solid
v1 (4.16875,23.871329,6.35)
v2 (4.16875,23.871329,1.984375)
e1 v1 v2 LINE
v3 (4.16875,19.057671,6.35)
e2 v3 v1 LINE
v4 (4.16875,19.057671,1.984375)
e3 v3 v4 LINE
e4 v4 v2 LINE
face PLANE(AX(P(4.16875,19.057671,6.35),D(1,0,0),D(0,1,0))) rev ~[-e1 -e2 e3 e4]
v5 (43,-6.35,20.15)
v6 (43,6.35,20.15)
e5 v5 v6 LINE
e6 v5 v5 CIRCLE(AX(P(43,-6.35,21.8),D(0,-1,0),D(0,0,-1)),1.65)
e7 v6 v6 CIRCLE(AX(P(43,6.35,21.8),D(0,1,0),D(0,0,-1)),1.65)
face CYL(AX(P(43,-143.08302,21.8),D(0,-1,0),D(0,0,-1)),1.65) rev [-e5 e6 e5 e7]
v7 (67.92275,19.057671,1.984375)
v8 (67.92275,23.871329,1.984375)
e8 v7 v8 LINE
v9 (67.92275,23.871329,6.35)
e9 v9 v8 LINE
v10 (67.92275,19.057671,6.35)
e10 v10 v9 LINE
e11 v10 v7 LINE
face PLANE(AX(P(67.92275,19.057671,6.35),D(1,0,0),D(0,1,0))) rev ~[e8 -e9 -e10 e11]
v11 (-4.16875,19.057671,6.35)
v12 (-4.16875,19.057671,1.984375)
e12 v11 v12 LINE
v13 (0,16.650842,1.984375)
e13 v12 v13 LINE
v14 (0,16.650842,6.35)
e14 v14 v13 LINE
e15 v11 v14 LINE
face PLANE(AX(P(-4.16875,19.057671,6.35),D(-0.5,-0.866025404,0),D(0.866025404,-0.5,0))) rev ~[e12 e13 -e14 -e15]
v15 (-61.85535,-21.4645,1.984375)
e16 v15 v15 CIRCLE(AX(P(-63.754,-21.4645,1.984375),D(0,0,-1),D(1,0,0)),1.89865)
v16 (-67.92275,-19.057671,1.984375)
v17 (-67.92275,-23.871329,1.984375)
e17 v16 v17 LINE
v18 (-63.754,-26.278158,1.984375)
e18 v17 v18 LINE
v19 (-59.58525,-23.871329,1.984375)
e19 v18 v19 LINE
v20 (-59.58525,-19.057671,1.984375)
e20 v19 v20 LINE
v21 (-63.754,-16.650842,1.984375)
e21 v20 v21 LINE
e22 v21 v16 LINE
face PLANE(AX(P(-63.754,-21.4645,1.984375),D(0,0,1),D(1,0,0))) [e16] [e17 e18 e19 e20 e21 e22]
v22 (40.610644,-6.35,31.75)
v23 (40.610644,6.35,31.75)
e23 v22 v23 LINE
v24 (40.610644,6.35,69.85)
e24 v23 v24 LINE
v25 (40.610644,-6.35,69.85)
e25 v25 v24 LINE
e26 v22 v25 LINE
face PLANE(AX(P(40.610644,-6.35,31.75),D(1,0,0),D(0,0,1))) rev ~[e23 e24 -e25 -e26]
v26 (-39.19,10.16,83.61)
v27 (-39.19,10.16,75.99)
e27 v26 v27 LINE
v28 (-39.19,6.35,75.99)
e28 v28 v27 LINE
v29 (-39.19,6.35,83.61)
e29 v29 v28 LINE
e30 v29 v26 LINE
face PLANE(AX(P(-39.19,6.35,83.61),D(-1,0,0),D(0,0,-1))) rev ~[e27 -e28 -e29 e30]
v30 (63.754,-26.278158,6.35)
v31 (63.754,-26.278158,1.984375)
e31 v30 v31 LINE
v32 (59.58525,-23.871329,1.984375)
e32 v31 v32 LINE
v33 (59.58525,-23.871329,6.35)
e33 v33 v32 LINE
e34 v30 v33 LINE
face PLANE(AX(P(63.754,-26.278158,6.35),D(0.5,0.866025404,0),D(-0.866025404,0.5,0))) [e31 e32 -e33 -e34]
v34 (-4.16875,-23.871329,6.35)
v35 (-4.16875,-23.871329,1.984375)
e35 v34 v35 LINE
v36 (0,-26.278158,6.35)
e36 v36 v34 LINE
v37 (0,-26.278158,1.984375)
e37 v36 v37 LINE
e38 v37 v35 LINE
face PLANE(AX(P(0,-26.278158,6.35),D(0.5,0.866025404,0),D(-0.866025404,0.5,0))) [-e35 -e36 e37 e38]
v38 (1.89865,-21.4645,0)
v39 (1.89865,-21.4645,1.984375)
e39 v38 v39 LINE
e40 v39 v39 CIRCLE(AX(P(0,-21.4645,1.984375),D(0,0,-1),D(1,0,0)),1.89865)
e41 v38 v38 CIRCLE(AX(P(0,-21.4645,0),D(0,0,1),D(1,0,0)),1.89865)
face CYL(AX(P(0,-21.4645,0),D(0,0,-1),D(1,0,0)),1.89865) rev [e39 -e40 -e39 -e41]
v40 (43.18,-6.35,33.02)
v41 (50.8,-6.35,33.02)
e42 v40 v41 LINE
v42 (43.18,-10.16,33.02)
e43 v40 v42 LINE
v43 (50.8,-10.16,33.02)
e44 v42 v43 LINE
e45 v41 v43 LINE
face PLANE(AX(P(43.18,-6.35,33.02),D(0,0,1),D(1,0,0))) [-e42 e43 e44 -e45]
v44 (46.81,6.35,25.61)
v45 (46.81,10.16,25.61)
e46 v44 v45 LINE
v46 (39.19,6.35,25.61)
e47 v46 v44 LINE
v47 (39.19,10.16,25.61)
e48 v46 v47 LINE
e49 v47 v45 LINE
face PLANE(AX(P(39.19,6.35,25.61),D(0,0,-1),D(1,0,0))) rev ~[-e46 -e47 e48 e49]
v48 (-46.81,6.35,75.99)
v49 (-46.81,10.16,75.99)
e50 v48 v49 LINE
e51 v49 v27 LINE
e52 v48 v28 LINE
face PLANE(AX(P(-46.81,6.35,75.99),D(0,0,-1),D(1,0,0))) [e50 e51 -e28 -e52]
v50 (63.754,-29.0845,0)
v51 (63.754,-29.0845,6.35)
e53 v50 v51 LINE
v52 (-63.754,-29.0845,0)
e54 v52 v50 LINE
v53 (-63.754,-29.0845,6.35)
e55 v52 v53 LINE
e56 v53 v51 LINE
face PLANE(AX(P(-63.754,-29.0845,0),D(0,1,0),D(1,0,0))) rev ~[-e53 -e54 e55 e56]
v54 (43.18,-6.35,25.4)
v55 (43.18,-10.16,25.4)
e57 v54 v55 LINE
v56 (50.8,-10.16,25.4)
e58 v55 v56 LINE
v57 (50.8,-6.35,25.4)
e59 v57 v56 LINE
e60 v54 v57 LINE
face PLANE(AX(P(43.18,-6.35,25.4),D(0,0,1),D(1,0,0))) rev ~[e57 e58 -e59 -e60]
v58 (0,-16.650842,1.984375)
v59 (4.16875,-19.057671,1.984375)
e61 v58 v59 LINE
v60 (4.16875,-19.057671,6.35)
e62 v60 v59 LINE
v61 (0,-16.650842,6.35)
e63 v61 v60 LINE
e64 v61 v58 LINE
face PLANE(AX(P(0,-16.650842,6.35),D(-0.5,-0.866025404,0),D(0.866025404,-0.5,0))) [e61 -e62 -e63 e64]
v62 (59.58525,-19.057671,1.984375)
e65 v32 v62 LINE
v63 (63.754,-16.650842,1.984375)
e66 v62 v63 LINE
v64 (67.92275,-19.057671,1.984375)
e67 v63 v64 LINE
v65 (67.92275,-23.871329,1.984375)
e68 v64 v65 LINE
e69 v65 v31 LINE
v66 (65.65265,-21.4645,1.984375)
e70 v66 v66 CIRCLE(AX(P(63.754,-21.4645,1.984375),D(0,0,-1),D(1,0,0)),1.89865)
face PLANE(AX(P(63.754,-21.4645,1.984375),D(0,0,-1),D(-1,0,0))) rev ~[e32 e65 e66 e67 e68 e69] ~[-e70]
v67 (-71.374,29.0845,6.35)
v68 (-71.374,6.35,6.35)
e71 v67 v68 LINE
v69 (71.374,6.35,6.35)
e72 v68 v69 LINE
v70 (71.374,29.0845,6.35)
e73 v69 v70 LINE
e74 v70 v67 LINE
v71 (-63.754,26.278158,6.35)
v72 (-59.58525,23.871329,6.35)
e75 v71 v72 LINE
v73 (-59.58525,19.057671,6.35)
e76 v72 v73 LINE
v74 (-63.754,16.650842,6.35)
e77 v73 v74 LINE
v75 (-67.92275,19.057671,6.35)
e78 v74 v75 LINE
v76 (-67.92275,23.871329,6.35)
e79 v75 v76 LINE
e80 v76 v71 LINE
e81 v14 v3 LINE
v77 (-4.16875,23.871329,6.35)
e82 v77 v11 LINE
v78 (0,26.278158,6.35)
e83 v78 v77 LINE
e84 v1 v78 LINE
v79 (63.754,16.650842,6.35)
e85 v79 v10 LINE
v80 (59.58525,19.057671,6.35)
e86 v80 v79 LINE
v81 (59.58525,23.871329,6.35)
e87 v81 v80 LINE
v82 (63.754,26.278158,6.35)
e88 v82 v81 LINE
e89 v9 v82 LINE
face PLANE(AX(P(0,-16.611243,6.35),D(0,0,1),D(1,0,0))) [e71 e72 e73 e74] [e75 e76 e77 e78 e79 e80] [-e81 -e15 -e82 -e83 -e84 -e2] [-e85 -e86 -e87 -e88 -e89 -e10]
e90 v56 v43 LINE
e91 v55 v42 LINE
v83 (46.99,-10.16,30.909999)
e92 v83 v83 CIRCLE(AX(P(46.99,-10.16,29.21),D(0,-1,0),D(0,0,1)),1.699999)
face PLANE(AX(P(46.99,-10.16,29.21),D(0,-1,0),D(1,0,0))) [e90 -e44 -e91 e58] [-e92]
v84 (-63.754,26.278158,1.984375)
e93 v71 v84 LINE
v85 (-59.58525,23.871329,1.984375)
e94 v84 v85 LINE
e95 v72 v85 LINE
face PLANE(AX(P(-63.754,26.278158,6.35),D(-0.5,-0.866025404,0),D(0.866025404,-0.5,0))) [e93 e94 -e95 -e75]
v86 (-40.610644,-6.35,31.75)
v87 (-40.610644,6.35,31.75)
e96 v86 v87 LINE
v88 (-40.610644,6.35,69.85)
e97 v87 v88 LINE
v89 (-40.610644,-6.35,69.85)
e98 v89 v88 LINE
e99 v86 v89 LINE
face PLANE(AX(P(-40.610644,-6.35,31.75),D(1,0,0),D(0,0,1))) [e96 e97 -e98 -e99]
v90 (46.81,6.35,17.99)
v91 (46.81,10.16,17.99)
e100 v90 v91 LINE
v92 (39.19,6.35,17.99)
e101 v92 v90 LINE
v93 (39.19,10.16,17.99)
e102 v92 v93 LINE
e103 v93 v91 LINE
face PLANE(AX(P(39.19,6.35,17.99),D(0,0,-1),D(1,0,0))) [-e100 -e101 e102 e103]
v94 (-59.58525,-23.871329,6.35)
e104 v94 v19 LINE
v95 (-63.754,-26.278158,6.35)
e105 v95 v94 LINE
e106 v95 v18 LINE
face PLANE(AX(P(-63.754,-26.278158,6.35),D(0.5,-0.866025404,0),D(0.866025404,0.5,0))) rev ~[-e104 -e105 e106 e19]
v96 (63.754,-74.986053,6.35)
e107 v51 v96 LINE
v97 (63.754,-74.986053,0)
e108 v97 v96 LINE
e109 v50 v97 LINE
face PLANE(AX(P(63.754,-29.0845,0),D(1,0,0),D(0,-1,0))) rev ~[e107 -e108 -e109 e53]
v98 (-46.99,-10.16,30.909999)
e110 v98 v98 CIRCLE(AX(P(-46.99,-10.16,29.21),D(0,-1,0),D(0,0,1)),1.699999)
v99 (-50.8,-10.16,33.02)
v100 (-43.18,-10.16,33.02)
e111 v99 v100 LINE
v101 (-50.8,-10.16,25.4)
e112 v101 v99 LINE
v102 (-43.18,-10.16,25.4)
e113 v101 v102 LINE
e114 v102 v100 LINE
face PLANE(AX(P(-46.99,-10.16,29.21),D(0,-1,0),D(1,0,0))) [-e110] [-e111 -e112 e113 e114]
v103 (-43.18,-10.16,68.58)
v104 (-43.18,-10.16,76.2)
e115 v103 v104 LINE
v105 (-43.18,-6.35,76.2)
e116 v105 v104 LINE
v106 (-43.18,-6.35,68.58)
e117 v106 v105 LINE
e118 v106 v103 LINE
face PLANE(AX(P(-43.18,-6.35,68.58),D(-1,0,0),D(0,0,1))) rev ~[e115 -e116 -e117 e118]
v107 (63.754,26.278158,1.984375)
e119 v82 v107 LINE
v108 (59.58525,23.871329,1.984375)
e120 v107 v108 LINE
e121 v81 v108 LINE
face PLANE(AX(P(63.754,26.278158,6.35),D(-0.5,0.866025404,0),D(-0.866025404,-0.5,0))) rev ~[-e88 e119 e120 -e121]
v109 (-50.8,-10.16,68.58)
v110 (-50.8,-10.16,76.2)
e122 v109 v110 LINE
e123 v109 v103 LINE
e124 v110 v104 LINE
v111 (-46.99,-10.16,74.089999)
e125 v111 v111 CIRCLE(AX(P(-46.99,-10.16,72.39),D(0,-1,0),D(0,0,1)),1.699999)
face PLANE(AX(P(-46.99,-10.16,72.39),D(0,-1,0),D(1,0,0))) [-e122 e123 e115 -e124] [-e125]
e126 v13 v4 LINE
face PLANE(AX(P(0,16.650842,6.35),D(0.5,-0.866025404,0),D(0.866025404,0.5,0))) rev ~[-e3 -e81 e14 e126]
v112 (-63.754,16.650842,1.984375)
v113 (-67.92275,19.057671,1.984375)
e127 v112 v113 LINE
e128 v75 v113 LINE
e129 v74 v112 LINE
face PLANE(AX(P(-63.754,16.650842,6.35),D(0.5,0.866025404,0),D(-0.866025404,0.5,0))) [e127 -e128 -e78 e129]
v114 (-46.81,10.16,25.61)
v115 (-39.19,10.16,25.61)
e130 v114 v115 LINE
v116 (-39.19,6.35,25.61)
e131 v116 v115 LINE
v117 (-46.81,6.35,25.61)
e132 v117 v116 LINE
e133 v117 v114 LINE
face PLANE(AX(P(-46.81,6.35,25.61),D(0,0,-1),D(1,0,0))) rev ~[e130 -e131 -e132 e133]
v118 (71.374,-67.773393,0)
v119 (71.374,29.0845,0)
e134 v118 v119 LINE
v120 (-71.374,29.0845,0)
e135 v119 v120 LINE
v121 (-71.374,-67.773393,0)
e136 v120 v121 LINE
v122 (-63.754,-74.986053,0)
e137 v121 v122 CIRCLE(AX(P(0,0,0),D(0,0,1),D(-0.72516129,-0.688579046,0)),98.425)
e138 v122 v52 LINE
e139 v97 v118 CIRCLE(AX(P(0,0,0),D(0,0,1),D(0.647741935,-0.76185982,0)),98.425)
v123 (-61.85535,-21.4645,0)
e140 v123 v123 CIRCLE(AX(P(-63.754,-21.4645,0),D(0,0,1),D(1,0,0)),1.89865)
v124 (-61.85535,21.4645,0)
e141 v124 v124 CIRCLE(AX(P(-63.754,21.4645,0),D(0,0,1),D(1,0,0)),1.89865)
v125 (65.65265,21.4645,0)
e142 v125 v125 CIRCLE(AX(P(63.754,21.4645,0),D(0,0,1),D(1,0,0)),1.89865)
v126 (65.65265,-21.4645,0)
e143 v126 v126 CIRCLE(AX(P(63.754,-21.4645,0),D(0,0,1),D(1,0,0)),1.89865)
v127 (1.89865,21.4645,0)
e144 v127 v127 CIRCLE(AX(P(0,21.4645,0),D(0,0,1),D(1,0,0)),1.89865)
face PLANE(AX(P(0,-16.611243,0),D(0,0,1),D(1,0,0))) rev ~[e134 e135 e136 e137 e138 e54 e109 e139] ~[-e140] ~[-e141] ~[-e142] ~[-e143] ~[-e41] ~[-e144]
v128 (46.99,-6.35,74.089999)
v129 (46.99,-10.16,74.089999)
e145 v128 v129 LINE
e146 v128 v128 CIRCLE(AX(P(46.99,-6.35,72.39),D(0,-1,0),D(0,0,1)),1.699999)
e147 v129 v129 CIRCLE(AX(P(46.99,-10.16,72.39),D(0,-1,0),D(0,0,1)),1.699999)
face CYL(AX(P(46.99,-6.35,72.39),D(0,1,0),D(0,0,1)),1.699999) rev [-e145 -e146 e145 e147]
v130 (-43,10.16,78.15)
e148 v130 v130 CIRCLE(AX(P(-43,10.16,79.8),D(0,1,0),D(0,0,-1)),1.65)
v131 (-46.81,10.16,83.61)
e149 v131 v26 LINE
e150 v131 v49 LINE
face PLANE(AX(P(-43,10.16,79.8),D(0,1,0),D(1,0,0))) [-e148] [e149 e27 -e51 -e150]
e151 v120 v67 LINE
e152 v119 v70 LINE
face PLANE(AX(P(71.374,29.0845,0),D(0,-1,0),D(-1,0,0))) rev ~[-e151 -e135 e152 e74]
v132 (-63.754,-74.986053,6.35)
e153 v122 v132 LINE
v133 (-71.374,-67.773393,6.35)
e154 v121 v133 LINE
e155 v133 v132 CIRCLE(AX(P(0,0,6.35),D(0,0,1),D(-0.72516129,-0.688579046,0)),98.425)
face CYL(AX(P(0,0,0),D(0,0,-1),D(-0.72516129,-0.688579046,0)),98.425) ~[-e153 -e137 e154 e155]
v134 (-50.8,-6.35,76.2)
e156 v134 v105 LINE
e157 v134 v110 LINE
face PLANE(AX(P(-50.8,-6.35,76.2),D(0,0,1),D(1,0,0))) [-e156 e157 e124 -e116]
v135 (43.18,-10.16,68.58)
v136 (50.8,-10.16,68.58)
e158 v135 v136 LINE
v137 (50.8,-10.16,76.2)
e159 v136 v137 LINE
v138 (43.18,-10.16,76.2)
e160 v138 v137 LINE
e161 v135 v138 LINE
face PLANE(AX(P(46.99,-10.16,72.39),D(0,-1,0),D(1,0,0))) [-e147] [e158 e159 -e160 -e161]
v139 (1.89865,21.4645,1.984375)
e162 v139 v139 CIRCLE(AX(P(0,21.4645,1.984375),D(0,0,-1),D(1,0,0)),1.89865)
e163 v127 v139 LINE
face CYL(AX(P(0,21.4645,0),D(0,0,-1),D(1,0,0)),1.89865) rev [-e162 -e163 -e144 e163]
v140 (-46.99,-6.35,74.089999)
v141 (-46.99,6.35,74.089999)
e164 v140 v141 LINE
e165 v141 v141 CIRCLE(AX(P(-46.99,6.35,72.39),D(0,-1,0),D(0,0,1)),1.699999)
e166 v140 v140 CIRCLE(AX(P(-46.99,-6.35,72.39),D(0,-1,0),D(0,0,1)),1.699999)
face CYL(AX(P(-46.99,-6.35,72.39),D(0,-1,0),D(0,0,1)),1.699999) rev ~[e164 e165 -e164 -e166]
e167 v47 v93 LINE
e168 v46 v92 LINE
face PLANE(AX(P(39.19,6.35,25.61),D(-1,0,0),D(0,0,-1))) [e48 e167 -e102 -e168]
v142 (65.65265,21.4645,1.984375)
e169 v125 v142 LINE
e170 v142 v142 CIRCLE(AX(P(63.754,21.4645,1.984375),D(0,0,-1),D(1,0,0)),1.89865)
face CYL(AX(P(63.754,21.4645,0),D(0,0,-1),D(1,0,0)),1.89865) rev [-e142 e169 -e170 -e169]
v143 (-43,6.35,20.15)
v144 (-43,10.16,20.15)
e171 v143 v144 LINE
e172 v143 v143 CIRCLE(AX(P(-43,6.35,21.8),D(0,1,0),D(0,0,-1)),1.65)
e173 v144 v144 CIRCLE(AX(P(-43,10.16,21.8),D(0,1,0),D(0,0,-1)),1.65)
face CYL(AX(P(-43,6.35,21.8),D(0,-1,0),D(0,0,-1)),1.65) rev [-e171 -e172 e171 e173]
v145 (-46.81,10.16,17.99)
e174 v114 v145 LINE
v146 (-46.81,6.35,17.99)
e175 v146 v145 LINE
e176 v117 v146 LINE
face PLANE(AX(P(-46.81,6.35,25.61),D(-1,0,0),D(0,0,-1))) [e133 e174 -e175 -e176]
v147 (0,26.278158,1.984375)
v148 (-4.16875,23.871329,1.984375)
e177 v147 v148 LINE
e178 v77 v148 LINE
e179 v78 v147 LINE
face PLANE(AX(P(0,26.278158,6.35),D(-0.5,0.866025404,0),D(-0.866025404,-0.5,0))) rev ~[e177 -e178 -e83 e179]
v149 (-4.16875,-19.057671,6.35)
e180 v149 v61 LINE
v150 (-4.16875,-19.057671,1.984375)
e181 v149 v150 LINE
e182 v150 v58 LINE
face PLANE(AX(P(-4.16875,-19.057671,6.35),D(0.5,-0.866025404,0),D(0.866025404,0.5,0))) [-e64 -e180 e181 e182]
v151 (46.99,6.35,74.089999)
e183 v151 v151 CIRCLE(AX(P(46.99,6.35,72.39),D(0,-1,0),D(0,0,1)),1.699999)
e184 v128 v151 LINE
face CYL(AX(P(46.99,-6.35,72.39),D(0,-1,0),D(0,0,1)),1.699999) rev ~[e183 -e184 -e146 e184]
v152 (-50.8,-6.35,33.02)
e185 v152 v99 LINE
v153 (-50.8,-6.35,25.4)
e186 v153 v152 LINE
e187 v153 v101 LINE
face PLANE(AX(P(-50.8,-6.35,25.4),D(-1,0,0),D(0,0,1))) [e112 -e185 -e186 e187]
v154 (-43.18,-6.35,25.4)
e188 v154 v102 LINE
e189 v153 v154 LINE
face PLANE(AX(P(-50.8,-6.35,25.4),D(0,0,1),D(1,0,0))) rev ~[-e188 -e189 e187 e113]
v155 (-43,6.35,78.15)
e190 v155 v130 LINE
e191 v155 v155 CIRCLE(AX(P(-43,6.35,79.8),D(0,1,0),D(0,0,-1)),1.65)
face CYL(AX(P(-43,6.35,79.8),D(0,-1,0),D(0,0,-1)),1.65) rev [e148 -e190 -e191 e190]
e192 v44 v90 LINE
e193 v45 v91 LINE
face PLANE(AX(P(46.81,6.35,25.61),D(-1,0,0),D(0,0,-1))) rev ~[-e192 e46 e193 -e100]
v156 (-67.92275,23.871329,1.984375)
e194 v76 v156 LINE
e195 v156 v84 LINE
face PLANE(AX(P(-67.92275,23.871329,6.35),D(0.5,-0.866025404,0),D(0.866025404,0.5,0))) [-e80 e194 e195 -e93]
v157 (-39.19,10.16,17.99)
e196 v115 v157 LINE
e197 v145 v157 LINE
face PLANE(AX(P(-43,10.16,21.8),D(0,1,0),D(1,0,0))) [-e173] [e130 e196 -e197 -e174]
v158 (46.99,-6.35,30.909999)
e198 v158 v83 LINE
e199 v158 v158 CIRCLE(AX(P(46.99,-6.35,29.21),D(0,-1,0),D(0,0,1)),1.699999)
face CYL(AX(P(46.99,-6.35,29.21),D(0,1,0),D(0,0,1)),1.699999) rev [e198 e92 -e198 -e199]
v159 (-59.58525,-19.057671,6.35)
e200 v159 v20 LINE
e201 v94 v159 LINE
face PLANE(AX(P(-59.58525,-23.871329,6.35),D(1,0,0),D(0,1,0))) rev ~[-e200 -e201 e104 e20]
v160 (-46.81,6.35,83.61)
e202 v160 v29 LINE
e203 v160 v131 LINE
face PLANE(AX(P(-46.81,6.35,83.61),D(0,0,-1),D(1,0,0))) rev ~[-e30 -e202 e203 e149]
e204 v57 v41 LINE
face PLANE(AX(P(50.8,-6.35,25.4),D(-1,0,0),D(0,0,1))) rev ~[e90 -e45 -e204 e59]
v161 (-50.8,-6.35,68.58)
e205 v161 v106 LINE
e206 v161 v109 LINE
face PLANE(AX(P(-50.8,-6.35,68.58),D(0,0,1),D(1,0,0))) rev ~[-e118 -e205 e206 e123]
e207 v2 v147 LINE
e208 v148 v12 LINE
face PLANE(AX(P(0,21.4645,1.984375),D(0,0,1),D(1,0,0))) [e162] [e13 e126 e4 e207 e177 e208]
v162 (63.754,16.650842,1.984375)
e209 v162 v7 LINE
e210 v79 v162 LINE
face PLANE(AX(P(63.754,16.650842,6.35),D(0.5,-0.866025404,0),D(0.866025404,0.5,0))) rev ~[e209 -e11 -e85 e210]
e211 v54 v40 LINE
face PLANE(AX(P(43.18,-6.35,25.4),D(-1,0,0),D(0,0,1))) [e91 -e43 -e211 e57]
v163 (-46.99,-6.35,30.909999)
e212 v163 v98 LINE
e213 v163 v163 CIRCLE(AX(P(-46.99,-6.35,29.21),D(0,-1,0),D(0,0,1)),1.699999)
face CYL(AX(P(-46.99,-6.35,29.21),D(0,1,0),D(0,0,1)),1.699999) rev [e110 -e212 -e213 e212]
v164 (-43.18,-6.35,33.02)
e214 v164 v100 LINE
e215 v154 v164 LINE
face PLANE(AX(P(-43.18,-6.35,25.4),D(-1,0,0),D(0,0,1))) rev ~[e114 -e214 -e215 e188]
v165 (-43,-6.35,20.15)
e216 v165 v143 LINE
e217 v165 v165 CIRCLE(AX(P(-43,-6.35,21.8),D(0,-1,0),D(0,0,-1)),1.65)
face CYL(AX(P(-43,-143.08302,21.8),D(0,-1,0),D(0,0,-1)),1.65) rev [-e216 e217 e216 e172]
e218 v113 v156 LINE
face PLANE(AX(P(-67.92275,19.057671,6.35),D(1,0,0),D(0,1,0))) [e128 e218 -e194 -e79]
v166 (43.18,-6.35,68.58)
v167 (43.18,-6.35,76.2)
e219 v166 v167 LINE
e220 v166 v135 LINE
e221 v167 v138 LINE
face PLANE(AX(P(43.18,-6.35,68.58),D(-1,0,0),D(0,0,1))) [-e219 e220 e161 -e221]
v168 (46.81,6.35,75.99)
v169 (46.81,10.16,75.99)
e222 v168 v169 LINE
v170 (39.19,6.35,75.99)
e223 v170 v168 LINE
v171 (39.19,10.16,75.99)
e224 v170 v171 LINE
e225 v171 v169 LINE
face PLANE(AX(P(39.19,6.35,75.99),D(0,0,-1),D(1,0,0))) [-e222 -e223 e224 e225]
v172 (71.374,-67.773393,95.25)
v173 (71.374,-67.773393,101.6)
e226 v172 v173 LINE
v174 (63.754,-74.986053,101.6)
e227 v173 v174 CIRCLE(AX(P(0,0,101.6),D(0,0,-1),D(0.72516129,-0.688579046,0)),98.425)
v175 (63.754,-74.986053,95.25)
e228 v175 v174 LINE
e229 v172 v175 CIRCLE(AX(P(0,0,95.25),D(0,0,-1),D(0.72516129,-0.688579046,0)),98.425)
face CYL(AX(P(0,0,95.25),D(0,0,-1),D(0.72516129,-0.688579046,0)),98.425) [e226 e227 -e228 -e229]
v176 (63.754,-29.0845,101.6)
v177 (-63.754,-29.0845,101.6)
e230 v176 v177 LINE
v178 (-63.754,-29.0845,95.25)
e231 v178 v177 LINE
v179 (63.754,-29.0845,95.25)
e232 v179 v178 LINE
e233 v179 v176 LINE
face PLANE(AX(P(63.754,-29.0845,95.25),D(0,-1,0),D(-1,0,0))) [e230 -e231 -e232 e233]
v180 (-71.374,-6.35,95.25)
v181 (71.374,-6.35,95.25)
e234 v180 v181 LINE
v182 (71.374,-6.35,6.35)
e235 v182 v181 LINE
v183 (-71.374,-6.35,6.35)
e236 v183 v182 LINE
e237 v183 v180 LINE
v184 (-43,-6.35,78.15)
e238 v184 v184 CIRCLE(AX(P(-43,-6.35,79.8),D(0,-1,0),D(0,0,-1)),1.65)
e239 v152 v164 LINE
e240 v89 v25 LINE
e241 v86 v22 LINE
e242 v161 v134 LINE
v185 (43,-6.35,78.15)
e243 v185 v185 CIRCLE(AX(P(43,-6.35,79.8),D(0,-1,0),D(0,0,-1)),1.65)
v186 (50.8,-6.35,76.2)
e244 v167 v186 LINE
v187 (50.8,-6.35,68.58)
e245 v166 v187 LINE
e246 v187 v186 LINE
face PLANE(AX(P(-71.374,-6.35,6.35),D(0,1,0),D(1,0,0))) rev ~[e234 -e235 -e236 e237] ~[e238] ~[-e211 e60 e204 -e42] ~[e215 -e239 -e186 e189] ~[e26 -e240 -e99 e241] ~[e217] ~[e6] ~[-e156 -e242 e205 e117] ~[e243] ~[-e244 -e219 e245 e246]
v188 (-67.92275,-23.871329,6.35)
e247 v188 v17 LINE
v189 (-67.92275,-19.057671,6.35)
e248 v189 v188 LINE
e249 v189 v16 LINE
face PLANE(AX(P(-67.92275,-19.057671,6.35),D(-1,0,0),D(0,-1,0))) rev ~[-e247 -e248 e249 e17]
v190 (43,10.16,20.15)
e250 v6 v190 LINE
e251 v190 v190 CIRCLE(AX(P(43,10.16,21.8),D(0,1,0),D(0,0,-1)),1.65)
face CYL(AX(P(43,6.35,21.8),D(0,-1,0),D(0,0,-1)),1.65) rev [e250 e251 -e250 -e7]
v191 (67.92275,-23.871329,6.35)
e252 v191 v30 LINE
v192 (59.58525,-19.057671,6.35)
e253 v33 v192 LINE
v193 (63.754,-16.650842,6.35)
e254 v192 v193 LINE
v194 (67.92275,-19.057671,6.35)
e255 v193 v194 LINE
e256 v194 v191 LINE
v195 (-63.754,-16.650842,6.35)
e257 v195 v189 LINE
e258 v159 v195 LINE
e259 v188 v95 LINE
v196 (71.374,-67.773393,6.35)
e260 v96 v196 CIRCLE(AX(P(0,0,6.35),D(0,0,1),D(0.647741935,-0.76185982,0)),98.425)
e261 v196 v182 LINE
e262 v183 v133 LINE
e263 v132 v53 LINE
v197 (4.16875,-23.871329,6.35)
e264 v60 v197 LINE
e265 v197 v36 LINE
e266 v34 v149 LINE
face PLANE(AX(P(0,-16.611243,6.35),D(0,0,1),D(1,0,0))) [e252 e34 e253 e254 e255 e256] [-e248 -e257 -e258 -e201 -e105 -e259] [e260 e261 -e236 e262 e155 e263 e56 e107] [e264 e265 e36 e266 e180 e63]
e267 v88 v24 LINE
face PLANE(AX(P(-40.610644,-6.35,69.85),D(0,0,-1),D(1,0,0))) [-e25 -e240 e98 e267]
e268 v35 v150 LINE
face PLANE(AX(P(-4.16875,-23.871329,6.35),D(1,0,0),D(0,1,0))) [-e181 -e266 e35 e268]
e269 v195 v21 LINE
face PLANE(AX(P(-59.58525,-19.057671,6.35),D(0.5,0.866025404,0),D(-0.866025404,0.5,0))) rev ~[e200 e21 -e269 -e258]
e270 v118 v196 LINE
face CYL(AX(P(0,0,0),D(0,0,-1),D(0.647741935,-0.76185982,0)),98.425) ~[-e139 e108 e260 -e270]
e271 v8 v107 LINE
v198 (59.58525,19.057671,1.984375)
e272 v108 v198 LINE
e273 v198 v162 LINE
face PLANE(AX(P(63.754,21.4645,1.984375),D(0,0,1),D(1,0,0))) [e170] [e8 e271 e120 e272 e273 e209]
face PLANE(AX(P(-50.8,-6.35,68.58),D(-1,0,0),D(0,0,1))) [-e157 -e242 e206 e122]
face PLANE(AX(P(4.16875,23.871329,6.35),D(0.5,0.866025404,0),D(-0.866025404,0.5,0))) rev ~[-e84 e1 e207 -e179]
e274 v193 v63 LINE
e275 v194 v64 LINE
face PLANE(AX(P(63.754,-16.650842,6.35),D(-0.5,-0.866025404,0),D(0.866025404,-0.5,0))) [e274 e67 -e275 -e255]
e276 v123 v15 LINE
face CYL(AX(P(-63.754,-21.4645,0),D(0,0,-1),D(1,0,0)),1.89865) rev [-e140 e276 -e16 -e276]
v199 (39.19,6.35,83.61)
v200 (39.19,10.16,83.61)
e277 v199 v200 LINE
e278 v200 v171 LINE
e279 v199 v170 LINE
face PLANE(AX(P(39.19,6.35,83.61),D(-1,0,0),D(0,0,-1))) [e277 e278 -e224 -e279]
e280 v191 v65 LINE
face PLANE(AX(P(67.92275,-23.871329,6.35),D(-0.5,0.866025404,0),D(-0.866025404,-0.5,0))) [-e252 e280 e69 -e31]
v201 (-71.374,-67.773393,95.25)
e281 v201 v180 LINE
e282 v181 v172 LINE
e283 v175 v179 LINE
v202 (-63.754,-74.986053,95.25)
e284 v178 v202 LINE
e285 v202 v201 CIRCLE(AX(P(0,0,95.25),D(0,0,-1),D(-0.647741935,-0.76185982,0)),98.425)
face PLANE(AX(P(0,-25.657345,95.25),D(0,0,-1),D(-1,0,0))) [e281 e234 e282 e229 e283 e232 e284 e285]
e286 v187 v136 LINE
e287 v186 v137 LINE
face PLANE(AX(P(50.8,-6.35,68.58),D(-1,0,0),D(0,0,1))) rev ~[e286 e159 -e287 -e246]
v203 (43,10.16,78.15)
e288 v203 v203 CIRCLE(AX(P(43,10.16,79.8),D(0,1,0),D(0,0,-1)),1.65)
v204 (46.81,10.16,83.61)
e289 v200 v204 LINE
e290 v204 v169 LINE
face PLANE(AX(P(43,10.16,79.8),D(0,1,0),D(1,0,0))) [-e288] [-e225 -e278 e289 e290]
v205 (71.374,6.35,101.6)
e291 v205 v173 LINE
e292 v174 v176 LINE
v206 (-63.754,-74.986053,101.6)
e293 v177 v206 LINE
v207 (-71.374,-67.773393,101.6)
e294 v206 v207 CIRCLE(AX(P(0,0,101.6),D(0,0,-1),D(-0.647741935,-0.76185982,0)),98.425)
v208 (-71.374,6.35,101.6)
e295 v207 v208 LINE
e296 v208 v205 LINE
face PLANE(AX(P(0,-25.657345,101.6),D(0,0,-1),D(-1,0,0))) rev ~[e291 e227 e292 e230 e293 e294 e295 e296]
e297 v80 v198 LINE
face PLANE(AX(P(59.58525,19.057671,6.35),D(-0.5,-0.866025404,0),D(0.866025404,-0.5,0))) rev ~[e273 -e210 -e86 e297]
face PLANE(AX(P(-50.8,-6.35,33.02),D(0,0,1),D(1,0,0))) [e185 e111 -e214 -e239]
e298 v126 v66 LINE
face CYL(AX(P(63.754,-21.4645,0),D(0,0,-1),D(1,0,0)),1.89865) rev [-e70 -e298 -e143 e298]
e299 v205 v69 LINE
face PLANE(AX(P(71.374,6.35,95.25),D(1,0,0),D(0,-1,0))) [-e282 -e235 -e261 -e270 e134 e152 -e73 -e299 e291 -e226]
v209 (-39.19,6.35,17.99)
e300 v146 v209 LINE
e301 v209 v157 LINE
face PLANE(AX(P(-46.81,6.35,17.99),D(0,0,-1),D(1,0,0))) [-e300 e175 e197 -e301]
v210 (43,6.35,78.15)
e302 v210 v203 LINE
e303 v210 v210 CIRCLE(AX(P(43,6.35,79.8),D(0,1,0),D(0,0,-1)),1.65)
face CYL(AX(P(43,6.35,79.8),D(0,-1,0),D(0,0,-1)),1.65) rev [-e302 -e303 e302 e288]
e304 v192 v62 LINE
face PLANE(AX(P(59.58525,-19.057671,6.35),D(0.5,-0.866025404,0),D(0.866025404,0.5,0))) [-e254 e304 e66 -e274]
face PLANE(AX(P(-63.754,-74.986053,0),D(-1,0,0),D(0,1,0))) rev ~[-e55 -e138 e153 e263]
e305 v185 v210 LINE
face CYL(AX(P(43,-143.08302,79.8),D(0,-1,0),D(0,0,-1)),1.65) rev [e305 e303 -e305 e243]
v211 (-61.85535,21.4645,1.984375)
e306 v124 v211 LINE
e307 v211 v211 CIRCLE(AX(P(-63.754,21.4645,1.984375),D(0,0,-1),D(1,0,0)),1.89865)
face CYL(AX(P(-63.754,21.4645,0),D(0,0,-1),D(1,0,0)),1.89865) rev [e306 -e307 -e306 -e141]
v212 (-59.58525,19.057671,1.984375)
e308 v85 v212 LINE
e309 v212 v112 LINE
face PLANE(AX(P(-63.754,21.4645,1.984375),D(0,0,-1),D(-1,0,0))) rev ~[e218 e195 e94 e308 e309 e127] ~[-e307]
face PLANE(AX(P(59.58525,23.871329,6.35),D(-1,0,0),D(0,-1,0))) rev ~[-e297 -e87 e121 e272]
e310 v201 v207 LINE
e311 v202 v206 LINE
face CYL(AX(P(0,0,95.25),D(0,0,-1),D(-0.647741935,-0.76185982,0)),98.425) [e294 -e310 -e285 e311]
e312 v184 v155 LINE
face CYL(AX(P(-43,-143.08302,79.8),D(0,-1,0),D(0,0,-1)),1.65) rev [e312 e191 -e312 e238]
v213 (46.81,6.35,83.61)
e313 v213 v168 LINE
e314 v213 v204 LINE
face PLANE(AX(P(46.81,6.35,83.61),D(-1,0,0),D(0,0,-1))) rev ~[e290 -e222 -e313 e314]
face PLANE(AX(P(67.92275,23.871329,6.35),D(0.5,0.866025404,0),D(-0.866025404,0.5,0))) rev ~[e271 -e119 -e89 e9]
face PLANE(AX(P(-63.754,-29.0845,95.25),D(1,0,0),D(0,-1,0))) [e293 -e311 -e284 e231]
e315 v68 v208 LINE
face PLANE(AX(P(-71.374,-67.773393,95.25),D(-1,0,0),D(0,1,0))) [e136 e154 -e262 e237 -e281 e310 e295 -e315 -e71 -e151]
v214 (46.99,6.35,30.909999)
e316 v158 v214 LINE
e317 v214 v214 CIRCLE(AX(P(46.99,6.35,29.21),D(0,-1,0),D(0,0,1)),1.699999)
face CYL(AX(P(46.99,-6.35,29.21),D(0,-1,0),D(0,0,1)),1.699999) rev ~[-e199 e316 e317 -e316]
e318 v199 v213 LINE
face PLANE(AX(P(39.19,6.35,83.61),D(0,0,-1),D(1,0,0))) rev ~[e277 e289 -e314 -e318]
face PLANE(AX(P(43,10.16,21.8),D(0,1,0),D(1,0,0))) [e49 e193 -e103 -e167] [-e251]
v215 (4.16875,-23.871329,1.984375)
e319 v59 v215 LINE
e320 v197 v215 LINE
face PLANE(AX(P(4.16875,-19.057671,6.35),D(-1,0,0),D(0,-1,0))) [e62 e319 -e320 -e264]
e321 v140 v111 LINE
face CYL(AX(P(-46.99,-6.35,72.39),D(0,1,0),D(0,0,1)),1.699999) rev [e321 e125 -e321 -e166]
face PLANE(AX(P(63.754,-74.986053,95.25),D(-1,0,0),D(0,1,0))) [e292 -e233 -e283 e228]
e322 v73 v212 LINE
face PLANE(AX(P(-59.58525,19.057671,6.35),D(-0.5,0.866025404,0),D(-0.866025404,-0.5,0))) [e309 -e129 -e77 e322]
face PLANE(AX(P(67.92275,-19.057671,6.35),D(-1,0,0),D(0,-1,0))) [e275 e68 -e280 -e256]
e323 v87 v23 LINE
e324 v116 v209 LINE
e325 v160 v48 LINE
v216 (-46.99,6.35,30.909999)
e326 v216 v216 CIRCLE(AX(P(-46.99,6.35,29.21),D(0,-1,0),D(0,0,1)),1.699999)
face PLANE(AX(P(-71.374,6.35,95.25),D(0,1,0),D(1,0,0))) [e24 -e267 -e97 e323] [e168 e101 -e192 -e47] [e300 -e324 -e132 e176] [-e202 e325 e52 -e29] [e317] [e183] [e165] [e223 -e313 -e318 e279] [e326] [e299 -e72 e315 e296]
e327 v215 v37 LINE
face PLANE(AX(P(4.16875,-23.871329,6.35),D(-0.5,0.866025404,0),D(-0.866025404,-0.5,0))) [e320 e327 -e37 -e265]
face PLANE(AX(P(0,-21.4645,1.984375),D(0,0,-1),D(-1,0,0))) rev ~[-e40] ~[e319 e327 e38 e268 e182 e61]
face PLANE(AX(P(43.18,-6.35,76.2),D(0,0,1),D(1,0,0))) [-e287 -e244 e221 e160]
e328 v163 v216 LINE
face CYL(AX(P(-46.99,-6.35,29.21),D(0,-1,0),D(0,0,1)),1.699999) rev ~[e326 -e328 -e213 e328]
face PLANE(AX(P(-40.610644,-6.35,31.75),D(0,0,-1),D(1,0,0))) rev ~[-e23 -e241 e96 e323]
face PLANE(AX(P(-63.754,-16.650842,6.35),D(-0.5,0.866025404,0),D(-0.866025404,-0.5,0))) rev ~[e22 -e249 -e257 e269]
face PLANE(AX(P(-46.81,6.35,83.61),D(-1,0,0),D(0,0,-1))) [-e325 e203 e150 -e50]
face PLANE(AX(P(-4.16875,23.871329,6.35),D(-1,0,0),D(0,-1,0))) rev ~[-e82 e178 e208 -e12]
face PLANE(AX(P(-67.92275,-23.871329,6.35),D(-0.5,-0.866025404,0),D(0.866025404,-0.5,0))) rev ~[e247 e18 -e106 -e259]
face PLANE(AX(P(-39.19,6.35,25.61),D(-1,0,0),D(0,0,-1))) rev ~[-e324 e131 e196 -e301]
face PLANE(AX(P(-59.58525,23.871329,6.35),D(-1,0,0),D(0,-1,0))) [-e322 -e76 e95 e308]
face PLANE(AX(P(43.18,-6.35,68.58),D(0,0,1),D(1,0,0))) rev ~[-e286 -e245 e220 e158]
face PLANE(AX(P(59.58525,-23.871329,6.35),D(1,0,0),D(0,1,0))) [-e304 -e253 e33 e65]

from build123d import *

# Parameters (mm, degrees)
SKETCH1_R               = 1.89865
BOSS_EXTRUDE1_DEPTH     = 6.35
SKETCH2_W               = 142.748
SKETCH2_H               = 12.7
BOSS_EXTRUDE2_DEPTH     = 88.9
SKETCH3_W               = 7.62
SKETCH3_H               = 7.62
SKETCH3_R               = 1.69999914
BOSS_EXTRUDE3_DEPTH     = 3.81
CUT_EXTRUDE2_REACH      = 139.396
SKETCH4_R               = 1.69999914
SKETCH4_W               = 81.221287992
SKETCH4_H               = 38.1
SKETCH5_W               = 7.62
SKETCH5_H               = 7.62
SKETCH5_R               = 1.65
BOSS_EXTRUDE4_DEPTH     = 3.81
BOSS_EXTRUDE5_DEPTH     = 6.35
CUT_EXTRUDE3_DEPTH      = 149.43301976
CUT_EXTRUDE3_DEPTH_BACK = 149.43301976
SKETCH9_R               = 1.65
CUT_EXTRUDE4_DEPTH      = 4.365625


with BuildPart() as part:
    # Sketch1 → Boss-Extrude1 (new body)
    with BuildSketch(Plane.XY):
        with BuildLine():
            Line((-71.374, -29.0845), (-71.374, -67.773392633))
            ThreePointArc((-71.374, -67.773392633), (-67.660178189, -71.481332615), (-63.754, -74.986052763))
            Line((-63.754, -74.986052763), (-63.754, -29.0845))
            Line((-63.754, -29.0845), (63.754, -29.0845))
            Line((63.754, -29.0845), (63.754, -74.986052763))
            ThreePointArc((63.754, -74.986052763), (67.660178189, -71.481332615), (71.374, -67.773392633))
            Line((71.374, -67.773392633), (71.374, -29.0845))
            Line((71.374, -29.0845), (71.374, 29.0845))
            Line((71.374, 29.0845), (-71.374, 29.0845))
            Line((-71.374, 29.0845), (-71.374, -29.0845))
        make_face()
        with Locations((-63.754, 21.4645)):
            Circle(SKETCH1_R, mode=Mode.SUBTRACT)
        with Locations((0, 21.4645)):
            Circle(SKETCH1_R, mode=Mode.SUBTRACT)
        with Locations((63.754, 21.4645)):
            Circle(SKETCH1_R, mode=Mode.SUBTRACT)
        with Locations((63.754, -21.4645)):
            Circle(SKETCH1_R, mode=Mode.SUBTRACT)
        with Locations((0, -21.4645)):
            Circle(SKETCH1_R, mode=Mode.SUBTRACT)
        with Locations((-63.754, -21.4645)):
            Circle(SKETCH1_R, mode=Mode.SUBTRACT)
    extrude(amount=BOSS_EXTRUDE1_DEPTH)

    # Sketch2 → Boss-Extrude2 (add)
    with BuildSketch(Plane.XY.offset(6.35)):
        Rectangle(SKETCH2_W, SKETCH2_H)
    extrude(amount=BOSS_EXTRUDE2_DEPTH)

    # Sketch3 → Boss-Extrude3 (add)
    # profile 1 of 4: a face of its own
    with BuildSketch(Plane.XZ.offset(6.35)):
        with Locations((-46.99, 72.39)):
            Rectangle(SKETCH3_W, SKETCH3_H)
        with Locations(Location((-46.99, 72.39, 0), (0, 0, 90))):
            Circle(SKETCH3_R, mode=Mode.SUBTRACT)
    # profile 2 of 4: a face of its own
    with BuildSketch(Plane.XZ.offset(6.35)):
        with Locations((46.99, 72.39)):
            Rectangle(SKETCH3_W, SKETCH3_H)
        with Locations(Location((46.99, 72.39, 0), (0, 0, 90))):
            Circle(SKETCH3_R, mode=Mode.SUBTRACT)
    # profile 3 of 4: a face of its own
    with BuildSketch(Plane.XZ.offset(6.35)):
        with Locations((46.99, 29.21)):
            Rectangle(SKETCH3_W, SKETCH3_H)
        with Locations(Location((46.99, 29.21, 0), (0, 0, 90))):
            Circle(SKETCH3_R, mode=Mode.SUBTRACT)
    # profile 4 of 4: a face of its own
    with BuildSketch(Plane.XZ.offset(6.35)):
        with Locations((-46.99, 29.21)):
            Rectangle(SKETCH3_W, SKETCH3_H)
        with Locations(Location((-46.99, 29.21, 0), (0, 0, 90))):
            Circle(SKETCH3_R, mode=Mode.SUBTRACT)
    extrude(amount=BOSS_EXTRUDE3_DEPTH)

    # Sketch4 → Cut-Extrude2 (cut, up to next)
    with BuildSketch(Plane.XZ.offset(6.35), mode=Mode.PRIVATE) as cut_extrude2_sk1:
        with Locations(Location((-46.99, 29.21, 0), (0, 0, 90))):
            Circle(SKETCH4_R)
    cut_extrude2_tool1 = extrude(cut_extrude2_sk1.sketch, amount=-CUT_EXTRUDE2_REACH, mode=Mode.PRIVATE) & part.part
    # Sketch4 → Cut-Extrude2 (cut, up to next)
    with BuildSketch(Plane.XZ.offset(6.35), mode=Mode.PRIVATE) as cut_extrude2_sk2:
        with Locations(Location((-46.99, 72.39, 0), (0, 0, 90))):
            Circle(SKETCH4_R)
    cut_extrude2_tool2 = extrude(cut_extrude2_sk2.sketch, amount=-CUT_EXTRUDE2_REACH, mode=Mode.PRIVATE) & part.part
    # Sketch4 → Cut-Extrude2 (cut, up to next)
    with BuildSketch(Plane.XZ.offset(6.35), mode=Mode.PRIVATE) as cut_extrude2_sk3:
        with Locations(Location((46.99, 29.21, 0), (0, 0, 90))):
            Circle(SKETCH4_R)
    cut_extrude2_tool3 = extrude(cut_extrude2_sk3.sketch, amount=-CUT_EXTRUDE2_REACH, mode=Mode.PRIVATE) & part.part
    # Sketch4 → Cut-Extrude2 (cut, up to next)
    with BuildSketch(Plane.XZ.offset(6.35), mode=Mode.PRIVATE) as cut_extrude2_sk4:
        with Locations(Location((46.99, 72.39, 0), (0, 0, 90))):
            Circle(SKETCH4_R)
    cut_extrude2_tool4 = extrude(cut_extrude2_sk4.sketch, amount=-CUT_EXTRUDE2_REACH, mode=Mode.PRIVATE) & part.part
    # Sketch4 → Cut-Extrude2 (cut, up to next)
    with BuildSketch(Plane.XZ.offset(6.35), mode=Mode.PRIVATE) as cut_extrude2_sk5:
        with Locations((0, 50.8)):
            Rectangle(SKETCH4_W, SKETCH4_H)
    cut_extrude2_tool5 = extrude(cut_extrude2_sk5.sketch, amount=-CUT_EXTRUDE2_REACH, mode=Mode.PRIVATE) & part.part
    add(cut_extrude2_tool1.solids().sort_by_distance((-46.99, -6.35, 29.21))[0], mode=Mode.SUBTRACT)
    add(cut_extrude2_tool2.solids().sort_by_distance((-46.99, -6.35, 72.39))[0], mode=Mode.SUBTRACT)
    add(cut_extrude2_tool3.solids().sort_by_distance((46.99, -6.35, 29.21))[0], mode=Mode.SUBTRACT)
    add(cut_extrude2_tool4.solids().sort_by_distance((46.99, -6.35, 72.39))[0], mode=Mode.SUBTRACT)
    add(cut_extrude2_tool5.solids().sort_by_distance((0, -6.35, 50.8))[0], mode=Mode.SUBTRACT)

    # Sketch5 → Boss-Extrude4 (add)
    # profile 1 of 4: a face of its own
    with BuildSketch(Plane(origin=(0, 6.35, 0), x_dir=(1, 0, 0), z_dir=(0, 1, 0))):
        with Locations((-43, -21.8)):
            Rectangle(SKETCH5_W, SKETCH5_H)
        with Locations(Location((-43, -21.8, 0), (0, 0, 90))):
            Circle(SKETCH5_R, mode=Mode.SUBTRACT)
    # profile 2 of 4: a face of its own
    with BuildSketch(Plane(origin=(0, 6.35, 0), x_dir=(1, 0, 0), z_dir=(0, 1, 0))):
        with Locations((43, -21.8)):
            Rectangle(SKETCH5_W, SKETCH5_H)
        with Locations(Location((43, -21.8, 0), (0, 0, 90))):
            Circle(SKETCH5_R, mode=Mode.SUBTRACT)
    # profile 3 of 4: a face of its own
    with BuildSketch(Plane(origin=(0, 6.35, 0), x_dir=(1, 0, 0), z_dir=(0, 1, 0))):
        with Locations((43, -79.8)):
            Rectangle(SKETCH5_W, SKETCH5_H)
        with Locations(Location((43, -79.8, 0), (0, 0, 90))):
            Circle(SKETCH5_R, mode=Mode.SUBTRACT)
    # profile 4 of 4: a face of its own
    with BuildSketch(Plane(origin=(0, 6.35, 0), x_dir=(1, 0, 0), z_dir=(0, 1, 0))):
        with Locations((-43, -79.8)):
            Rectangle(SKETCH5_W, SKETCH5_H)
        with Locations(Location((-43, -79.8, 0), (0, 0, 90))):
            Circle(SKETCH5_R, mode=Mode.SUBTRACT)
    extrude(amount=BOSS_EXTRUDE4_DEPTH)

    # Sketch6 → Boss-Extrude5 (add)
    with BuildSketch(Plane.XY.offset(95.25)):
        with BuildLine():
            Line((-71.374, 6.35), (71.374, 6.35))
            Line((71.374, 6.35), (71.374, -6.35))
            Line((71.374, -6.35), (71.374, -67.773392633))
            ThreePointArc((71.374, -67.773392633), (67.660178189, -71.481332615), (63.754, -74.986052763))
            Line((63.754, -74.986052763), (63.754, -29.0845))
            Line((63.754, -29.0845), (-63.754, -29.0845))
            Line((-63.754, -29.0845), (-63.754, -74.986052763))
            ThreePointArc((-63.754, -74.986052763), (-67.660178189, -71.481332615), (-71.374, -67.773392633))
            Line((-71.374, -67.773392633), (-71.374, -6.35))
            Line((-71.374, -6.35), (-71.374, 6.35))
        make_face()
    extrude(amount=BOSS_EXTRUDE5_DEPTH)

    # Sketch9 → Cut-Extrude3 (cut, two sides: drawn at the far end of the back side and taken through both)
    with BuildSketch(Plane(origin=(0, 6.35, 0), x_dir=(1, 0, 0), z_dir=(0, 1, 0)).offset(-CUT_EXTRUDE3_DEPTH_BACK)):
        with Locations(Location((-43, -21.8, 0), (0, 0, 90))):
            Circle(SKETCH9_R)
        with Locations(Location((43, -21.8, 0), (0, 0, 90))):
            Circle(SKETCH9_R)
        with Locations(Location((-43, -79.8, 0), (0, 0, 90))):
            Circle(SKETCH9_R)
        with Locations(Location((43, -79.8, 0), (0, 0, 90))):
            Circle(SKETCH9_R)
    extrude(amount=CUT_EXTRUDE3_DEPTH + CUT_EXTRUDE3_DEPTH_BACK, mode=Mode.SUBTRACT)

    # Sketch10 → Cut-Extrude4 (cut)
    with BuildSketch(Plane.XY.offset(6.35)):
        Polygon((4.16875, 19.057671065), (4.16875, 23.871328935), (0, 26.278157869), (-4.16875, 23.871328935), (-4.16875, 19.057671065), (0, 16.650842131), align=None)
        Polygon((0, -16.650842131), (4.16875, -19.057671065), (4.16875, -23.871328935), (0, -26.278157869), (-4.16875, -23.871328935), (-4.16875, -19.057671065), align=None)
        Polygon((-59.58525, -19.057671065), (-63.754, -16.650842131), (-67.92275, -19.057671065), (-67.92275, -23.871328935), (-63.754, -26.278157869), (-59.58525, -23.871328935), align=None)
        Polygon((-63.754, 16.650842131), (-67.92275, 19.057671065), (-67.92275, 23.871328935), (-63.754, 26.278157869), (-59.58525, 23.871328935), (-59.58525, 19.057671065), align=None)
        Polygon((59.58525, -23.871328935), (59.58525, -19.057671065), (63.754, -16.650842131), (67.92275, -19.057671065), (67.92275, -23.871328935), (63.754, -26.278157869), align=None)
        Polygon((59.58525, 19.057671065), (63.754, 16.650842131), (67.92275, 19.057671065), (67.92275, 23.871328935), (63.754, 26.278157869), (59.58525, 23.871328935), align=None)
    extrude(amount=-CUT_EXTRUDE4_DEPTH, mode=Mode.SUBTRACT)


solid = part.part
